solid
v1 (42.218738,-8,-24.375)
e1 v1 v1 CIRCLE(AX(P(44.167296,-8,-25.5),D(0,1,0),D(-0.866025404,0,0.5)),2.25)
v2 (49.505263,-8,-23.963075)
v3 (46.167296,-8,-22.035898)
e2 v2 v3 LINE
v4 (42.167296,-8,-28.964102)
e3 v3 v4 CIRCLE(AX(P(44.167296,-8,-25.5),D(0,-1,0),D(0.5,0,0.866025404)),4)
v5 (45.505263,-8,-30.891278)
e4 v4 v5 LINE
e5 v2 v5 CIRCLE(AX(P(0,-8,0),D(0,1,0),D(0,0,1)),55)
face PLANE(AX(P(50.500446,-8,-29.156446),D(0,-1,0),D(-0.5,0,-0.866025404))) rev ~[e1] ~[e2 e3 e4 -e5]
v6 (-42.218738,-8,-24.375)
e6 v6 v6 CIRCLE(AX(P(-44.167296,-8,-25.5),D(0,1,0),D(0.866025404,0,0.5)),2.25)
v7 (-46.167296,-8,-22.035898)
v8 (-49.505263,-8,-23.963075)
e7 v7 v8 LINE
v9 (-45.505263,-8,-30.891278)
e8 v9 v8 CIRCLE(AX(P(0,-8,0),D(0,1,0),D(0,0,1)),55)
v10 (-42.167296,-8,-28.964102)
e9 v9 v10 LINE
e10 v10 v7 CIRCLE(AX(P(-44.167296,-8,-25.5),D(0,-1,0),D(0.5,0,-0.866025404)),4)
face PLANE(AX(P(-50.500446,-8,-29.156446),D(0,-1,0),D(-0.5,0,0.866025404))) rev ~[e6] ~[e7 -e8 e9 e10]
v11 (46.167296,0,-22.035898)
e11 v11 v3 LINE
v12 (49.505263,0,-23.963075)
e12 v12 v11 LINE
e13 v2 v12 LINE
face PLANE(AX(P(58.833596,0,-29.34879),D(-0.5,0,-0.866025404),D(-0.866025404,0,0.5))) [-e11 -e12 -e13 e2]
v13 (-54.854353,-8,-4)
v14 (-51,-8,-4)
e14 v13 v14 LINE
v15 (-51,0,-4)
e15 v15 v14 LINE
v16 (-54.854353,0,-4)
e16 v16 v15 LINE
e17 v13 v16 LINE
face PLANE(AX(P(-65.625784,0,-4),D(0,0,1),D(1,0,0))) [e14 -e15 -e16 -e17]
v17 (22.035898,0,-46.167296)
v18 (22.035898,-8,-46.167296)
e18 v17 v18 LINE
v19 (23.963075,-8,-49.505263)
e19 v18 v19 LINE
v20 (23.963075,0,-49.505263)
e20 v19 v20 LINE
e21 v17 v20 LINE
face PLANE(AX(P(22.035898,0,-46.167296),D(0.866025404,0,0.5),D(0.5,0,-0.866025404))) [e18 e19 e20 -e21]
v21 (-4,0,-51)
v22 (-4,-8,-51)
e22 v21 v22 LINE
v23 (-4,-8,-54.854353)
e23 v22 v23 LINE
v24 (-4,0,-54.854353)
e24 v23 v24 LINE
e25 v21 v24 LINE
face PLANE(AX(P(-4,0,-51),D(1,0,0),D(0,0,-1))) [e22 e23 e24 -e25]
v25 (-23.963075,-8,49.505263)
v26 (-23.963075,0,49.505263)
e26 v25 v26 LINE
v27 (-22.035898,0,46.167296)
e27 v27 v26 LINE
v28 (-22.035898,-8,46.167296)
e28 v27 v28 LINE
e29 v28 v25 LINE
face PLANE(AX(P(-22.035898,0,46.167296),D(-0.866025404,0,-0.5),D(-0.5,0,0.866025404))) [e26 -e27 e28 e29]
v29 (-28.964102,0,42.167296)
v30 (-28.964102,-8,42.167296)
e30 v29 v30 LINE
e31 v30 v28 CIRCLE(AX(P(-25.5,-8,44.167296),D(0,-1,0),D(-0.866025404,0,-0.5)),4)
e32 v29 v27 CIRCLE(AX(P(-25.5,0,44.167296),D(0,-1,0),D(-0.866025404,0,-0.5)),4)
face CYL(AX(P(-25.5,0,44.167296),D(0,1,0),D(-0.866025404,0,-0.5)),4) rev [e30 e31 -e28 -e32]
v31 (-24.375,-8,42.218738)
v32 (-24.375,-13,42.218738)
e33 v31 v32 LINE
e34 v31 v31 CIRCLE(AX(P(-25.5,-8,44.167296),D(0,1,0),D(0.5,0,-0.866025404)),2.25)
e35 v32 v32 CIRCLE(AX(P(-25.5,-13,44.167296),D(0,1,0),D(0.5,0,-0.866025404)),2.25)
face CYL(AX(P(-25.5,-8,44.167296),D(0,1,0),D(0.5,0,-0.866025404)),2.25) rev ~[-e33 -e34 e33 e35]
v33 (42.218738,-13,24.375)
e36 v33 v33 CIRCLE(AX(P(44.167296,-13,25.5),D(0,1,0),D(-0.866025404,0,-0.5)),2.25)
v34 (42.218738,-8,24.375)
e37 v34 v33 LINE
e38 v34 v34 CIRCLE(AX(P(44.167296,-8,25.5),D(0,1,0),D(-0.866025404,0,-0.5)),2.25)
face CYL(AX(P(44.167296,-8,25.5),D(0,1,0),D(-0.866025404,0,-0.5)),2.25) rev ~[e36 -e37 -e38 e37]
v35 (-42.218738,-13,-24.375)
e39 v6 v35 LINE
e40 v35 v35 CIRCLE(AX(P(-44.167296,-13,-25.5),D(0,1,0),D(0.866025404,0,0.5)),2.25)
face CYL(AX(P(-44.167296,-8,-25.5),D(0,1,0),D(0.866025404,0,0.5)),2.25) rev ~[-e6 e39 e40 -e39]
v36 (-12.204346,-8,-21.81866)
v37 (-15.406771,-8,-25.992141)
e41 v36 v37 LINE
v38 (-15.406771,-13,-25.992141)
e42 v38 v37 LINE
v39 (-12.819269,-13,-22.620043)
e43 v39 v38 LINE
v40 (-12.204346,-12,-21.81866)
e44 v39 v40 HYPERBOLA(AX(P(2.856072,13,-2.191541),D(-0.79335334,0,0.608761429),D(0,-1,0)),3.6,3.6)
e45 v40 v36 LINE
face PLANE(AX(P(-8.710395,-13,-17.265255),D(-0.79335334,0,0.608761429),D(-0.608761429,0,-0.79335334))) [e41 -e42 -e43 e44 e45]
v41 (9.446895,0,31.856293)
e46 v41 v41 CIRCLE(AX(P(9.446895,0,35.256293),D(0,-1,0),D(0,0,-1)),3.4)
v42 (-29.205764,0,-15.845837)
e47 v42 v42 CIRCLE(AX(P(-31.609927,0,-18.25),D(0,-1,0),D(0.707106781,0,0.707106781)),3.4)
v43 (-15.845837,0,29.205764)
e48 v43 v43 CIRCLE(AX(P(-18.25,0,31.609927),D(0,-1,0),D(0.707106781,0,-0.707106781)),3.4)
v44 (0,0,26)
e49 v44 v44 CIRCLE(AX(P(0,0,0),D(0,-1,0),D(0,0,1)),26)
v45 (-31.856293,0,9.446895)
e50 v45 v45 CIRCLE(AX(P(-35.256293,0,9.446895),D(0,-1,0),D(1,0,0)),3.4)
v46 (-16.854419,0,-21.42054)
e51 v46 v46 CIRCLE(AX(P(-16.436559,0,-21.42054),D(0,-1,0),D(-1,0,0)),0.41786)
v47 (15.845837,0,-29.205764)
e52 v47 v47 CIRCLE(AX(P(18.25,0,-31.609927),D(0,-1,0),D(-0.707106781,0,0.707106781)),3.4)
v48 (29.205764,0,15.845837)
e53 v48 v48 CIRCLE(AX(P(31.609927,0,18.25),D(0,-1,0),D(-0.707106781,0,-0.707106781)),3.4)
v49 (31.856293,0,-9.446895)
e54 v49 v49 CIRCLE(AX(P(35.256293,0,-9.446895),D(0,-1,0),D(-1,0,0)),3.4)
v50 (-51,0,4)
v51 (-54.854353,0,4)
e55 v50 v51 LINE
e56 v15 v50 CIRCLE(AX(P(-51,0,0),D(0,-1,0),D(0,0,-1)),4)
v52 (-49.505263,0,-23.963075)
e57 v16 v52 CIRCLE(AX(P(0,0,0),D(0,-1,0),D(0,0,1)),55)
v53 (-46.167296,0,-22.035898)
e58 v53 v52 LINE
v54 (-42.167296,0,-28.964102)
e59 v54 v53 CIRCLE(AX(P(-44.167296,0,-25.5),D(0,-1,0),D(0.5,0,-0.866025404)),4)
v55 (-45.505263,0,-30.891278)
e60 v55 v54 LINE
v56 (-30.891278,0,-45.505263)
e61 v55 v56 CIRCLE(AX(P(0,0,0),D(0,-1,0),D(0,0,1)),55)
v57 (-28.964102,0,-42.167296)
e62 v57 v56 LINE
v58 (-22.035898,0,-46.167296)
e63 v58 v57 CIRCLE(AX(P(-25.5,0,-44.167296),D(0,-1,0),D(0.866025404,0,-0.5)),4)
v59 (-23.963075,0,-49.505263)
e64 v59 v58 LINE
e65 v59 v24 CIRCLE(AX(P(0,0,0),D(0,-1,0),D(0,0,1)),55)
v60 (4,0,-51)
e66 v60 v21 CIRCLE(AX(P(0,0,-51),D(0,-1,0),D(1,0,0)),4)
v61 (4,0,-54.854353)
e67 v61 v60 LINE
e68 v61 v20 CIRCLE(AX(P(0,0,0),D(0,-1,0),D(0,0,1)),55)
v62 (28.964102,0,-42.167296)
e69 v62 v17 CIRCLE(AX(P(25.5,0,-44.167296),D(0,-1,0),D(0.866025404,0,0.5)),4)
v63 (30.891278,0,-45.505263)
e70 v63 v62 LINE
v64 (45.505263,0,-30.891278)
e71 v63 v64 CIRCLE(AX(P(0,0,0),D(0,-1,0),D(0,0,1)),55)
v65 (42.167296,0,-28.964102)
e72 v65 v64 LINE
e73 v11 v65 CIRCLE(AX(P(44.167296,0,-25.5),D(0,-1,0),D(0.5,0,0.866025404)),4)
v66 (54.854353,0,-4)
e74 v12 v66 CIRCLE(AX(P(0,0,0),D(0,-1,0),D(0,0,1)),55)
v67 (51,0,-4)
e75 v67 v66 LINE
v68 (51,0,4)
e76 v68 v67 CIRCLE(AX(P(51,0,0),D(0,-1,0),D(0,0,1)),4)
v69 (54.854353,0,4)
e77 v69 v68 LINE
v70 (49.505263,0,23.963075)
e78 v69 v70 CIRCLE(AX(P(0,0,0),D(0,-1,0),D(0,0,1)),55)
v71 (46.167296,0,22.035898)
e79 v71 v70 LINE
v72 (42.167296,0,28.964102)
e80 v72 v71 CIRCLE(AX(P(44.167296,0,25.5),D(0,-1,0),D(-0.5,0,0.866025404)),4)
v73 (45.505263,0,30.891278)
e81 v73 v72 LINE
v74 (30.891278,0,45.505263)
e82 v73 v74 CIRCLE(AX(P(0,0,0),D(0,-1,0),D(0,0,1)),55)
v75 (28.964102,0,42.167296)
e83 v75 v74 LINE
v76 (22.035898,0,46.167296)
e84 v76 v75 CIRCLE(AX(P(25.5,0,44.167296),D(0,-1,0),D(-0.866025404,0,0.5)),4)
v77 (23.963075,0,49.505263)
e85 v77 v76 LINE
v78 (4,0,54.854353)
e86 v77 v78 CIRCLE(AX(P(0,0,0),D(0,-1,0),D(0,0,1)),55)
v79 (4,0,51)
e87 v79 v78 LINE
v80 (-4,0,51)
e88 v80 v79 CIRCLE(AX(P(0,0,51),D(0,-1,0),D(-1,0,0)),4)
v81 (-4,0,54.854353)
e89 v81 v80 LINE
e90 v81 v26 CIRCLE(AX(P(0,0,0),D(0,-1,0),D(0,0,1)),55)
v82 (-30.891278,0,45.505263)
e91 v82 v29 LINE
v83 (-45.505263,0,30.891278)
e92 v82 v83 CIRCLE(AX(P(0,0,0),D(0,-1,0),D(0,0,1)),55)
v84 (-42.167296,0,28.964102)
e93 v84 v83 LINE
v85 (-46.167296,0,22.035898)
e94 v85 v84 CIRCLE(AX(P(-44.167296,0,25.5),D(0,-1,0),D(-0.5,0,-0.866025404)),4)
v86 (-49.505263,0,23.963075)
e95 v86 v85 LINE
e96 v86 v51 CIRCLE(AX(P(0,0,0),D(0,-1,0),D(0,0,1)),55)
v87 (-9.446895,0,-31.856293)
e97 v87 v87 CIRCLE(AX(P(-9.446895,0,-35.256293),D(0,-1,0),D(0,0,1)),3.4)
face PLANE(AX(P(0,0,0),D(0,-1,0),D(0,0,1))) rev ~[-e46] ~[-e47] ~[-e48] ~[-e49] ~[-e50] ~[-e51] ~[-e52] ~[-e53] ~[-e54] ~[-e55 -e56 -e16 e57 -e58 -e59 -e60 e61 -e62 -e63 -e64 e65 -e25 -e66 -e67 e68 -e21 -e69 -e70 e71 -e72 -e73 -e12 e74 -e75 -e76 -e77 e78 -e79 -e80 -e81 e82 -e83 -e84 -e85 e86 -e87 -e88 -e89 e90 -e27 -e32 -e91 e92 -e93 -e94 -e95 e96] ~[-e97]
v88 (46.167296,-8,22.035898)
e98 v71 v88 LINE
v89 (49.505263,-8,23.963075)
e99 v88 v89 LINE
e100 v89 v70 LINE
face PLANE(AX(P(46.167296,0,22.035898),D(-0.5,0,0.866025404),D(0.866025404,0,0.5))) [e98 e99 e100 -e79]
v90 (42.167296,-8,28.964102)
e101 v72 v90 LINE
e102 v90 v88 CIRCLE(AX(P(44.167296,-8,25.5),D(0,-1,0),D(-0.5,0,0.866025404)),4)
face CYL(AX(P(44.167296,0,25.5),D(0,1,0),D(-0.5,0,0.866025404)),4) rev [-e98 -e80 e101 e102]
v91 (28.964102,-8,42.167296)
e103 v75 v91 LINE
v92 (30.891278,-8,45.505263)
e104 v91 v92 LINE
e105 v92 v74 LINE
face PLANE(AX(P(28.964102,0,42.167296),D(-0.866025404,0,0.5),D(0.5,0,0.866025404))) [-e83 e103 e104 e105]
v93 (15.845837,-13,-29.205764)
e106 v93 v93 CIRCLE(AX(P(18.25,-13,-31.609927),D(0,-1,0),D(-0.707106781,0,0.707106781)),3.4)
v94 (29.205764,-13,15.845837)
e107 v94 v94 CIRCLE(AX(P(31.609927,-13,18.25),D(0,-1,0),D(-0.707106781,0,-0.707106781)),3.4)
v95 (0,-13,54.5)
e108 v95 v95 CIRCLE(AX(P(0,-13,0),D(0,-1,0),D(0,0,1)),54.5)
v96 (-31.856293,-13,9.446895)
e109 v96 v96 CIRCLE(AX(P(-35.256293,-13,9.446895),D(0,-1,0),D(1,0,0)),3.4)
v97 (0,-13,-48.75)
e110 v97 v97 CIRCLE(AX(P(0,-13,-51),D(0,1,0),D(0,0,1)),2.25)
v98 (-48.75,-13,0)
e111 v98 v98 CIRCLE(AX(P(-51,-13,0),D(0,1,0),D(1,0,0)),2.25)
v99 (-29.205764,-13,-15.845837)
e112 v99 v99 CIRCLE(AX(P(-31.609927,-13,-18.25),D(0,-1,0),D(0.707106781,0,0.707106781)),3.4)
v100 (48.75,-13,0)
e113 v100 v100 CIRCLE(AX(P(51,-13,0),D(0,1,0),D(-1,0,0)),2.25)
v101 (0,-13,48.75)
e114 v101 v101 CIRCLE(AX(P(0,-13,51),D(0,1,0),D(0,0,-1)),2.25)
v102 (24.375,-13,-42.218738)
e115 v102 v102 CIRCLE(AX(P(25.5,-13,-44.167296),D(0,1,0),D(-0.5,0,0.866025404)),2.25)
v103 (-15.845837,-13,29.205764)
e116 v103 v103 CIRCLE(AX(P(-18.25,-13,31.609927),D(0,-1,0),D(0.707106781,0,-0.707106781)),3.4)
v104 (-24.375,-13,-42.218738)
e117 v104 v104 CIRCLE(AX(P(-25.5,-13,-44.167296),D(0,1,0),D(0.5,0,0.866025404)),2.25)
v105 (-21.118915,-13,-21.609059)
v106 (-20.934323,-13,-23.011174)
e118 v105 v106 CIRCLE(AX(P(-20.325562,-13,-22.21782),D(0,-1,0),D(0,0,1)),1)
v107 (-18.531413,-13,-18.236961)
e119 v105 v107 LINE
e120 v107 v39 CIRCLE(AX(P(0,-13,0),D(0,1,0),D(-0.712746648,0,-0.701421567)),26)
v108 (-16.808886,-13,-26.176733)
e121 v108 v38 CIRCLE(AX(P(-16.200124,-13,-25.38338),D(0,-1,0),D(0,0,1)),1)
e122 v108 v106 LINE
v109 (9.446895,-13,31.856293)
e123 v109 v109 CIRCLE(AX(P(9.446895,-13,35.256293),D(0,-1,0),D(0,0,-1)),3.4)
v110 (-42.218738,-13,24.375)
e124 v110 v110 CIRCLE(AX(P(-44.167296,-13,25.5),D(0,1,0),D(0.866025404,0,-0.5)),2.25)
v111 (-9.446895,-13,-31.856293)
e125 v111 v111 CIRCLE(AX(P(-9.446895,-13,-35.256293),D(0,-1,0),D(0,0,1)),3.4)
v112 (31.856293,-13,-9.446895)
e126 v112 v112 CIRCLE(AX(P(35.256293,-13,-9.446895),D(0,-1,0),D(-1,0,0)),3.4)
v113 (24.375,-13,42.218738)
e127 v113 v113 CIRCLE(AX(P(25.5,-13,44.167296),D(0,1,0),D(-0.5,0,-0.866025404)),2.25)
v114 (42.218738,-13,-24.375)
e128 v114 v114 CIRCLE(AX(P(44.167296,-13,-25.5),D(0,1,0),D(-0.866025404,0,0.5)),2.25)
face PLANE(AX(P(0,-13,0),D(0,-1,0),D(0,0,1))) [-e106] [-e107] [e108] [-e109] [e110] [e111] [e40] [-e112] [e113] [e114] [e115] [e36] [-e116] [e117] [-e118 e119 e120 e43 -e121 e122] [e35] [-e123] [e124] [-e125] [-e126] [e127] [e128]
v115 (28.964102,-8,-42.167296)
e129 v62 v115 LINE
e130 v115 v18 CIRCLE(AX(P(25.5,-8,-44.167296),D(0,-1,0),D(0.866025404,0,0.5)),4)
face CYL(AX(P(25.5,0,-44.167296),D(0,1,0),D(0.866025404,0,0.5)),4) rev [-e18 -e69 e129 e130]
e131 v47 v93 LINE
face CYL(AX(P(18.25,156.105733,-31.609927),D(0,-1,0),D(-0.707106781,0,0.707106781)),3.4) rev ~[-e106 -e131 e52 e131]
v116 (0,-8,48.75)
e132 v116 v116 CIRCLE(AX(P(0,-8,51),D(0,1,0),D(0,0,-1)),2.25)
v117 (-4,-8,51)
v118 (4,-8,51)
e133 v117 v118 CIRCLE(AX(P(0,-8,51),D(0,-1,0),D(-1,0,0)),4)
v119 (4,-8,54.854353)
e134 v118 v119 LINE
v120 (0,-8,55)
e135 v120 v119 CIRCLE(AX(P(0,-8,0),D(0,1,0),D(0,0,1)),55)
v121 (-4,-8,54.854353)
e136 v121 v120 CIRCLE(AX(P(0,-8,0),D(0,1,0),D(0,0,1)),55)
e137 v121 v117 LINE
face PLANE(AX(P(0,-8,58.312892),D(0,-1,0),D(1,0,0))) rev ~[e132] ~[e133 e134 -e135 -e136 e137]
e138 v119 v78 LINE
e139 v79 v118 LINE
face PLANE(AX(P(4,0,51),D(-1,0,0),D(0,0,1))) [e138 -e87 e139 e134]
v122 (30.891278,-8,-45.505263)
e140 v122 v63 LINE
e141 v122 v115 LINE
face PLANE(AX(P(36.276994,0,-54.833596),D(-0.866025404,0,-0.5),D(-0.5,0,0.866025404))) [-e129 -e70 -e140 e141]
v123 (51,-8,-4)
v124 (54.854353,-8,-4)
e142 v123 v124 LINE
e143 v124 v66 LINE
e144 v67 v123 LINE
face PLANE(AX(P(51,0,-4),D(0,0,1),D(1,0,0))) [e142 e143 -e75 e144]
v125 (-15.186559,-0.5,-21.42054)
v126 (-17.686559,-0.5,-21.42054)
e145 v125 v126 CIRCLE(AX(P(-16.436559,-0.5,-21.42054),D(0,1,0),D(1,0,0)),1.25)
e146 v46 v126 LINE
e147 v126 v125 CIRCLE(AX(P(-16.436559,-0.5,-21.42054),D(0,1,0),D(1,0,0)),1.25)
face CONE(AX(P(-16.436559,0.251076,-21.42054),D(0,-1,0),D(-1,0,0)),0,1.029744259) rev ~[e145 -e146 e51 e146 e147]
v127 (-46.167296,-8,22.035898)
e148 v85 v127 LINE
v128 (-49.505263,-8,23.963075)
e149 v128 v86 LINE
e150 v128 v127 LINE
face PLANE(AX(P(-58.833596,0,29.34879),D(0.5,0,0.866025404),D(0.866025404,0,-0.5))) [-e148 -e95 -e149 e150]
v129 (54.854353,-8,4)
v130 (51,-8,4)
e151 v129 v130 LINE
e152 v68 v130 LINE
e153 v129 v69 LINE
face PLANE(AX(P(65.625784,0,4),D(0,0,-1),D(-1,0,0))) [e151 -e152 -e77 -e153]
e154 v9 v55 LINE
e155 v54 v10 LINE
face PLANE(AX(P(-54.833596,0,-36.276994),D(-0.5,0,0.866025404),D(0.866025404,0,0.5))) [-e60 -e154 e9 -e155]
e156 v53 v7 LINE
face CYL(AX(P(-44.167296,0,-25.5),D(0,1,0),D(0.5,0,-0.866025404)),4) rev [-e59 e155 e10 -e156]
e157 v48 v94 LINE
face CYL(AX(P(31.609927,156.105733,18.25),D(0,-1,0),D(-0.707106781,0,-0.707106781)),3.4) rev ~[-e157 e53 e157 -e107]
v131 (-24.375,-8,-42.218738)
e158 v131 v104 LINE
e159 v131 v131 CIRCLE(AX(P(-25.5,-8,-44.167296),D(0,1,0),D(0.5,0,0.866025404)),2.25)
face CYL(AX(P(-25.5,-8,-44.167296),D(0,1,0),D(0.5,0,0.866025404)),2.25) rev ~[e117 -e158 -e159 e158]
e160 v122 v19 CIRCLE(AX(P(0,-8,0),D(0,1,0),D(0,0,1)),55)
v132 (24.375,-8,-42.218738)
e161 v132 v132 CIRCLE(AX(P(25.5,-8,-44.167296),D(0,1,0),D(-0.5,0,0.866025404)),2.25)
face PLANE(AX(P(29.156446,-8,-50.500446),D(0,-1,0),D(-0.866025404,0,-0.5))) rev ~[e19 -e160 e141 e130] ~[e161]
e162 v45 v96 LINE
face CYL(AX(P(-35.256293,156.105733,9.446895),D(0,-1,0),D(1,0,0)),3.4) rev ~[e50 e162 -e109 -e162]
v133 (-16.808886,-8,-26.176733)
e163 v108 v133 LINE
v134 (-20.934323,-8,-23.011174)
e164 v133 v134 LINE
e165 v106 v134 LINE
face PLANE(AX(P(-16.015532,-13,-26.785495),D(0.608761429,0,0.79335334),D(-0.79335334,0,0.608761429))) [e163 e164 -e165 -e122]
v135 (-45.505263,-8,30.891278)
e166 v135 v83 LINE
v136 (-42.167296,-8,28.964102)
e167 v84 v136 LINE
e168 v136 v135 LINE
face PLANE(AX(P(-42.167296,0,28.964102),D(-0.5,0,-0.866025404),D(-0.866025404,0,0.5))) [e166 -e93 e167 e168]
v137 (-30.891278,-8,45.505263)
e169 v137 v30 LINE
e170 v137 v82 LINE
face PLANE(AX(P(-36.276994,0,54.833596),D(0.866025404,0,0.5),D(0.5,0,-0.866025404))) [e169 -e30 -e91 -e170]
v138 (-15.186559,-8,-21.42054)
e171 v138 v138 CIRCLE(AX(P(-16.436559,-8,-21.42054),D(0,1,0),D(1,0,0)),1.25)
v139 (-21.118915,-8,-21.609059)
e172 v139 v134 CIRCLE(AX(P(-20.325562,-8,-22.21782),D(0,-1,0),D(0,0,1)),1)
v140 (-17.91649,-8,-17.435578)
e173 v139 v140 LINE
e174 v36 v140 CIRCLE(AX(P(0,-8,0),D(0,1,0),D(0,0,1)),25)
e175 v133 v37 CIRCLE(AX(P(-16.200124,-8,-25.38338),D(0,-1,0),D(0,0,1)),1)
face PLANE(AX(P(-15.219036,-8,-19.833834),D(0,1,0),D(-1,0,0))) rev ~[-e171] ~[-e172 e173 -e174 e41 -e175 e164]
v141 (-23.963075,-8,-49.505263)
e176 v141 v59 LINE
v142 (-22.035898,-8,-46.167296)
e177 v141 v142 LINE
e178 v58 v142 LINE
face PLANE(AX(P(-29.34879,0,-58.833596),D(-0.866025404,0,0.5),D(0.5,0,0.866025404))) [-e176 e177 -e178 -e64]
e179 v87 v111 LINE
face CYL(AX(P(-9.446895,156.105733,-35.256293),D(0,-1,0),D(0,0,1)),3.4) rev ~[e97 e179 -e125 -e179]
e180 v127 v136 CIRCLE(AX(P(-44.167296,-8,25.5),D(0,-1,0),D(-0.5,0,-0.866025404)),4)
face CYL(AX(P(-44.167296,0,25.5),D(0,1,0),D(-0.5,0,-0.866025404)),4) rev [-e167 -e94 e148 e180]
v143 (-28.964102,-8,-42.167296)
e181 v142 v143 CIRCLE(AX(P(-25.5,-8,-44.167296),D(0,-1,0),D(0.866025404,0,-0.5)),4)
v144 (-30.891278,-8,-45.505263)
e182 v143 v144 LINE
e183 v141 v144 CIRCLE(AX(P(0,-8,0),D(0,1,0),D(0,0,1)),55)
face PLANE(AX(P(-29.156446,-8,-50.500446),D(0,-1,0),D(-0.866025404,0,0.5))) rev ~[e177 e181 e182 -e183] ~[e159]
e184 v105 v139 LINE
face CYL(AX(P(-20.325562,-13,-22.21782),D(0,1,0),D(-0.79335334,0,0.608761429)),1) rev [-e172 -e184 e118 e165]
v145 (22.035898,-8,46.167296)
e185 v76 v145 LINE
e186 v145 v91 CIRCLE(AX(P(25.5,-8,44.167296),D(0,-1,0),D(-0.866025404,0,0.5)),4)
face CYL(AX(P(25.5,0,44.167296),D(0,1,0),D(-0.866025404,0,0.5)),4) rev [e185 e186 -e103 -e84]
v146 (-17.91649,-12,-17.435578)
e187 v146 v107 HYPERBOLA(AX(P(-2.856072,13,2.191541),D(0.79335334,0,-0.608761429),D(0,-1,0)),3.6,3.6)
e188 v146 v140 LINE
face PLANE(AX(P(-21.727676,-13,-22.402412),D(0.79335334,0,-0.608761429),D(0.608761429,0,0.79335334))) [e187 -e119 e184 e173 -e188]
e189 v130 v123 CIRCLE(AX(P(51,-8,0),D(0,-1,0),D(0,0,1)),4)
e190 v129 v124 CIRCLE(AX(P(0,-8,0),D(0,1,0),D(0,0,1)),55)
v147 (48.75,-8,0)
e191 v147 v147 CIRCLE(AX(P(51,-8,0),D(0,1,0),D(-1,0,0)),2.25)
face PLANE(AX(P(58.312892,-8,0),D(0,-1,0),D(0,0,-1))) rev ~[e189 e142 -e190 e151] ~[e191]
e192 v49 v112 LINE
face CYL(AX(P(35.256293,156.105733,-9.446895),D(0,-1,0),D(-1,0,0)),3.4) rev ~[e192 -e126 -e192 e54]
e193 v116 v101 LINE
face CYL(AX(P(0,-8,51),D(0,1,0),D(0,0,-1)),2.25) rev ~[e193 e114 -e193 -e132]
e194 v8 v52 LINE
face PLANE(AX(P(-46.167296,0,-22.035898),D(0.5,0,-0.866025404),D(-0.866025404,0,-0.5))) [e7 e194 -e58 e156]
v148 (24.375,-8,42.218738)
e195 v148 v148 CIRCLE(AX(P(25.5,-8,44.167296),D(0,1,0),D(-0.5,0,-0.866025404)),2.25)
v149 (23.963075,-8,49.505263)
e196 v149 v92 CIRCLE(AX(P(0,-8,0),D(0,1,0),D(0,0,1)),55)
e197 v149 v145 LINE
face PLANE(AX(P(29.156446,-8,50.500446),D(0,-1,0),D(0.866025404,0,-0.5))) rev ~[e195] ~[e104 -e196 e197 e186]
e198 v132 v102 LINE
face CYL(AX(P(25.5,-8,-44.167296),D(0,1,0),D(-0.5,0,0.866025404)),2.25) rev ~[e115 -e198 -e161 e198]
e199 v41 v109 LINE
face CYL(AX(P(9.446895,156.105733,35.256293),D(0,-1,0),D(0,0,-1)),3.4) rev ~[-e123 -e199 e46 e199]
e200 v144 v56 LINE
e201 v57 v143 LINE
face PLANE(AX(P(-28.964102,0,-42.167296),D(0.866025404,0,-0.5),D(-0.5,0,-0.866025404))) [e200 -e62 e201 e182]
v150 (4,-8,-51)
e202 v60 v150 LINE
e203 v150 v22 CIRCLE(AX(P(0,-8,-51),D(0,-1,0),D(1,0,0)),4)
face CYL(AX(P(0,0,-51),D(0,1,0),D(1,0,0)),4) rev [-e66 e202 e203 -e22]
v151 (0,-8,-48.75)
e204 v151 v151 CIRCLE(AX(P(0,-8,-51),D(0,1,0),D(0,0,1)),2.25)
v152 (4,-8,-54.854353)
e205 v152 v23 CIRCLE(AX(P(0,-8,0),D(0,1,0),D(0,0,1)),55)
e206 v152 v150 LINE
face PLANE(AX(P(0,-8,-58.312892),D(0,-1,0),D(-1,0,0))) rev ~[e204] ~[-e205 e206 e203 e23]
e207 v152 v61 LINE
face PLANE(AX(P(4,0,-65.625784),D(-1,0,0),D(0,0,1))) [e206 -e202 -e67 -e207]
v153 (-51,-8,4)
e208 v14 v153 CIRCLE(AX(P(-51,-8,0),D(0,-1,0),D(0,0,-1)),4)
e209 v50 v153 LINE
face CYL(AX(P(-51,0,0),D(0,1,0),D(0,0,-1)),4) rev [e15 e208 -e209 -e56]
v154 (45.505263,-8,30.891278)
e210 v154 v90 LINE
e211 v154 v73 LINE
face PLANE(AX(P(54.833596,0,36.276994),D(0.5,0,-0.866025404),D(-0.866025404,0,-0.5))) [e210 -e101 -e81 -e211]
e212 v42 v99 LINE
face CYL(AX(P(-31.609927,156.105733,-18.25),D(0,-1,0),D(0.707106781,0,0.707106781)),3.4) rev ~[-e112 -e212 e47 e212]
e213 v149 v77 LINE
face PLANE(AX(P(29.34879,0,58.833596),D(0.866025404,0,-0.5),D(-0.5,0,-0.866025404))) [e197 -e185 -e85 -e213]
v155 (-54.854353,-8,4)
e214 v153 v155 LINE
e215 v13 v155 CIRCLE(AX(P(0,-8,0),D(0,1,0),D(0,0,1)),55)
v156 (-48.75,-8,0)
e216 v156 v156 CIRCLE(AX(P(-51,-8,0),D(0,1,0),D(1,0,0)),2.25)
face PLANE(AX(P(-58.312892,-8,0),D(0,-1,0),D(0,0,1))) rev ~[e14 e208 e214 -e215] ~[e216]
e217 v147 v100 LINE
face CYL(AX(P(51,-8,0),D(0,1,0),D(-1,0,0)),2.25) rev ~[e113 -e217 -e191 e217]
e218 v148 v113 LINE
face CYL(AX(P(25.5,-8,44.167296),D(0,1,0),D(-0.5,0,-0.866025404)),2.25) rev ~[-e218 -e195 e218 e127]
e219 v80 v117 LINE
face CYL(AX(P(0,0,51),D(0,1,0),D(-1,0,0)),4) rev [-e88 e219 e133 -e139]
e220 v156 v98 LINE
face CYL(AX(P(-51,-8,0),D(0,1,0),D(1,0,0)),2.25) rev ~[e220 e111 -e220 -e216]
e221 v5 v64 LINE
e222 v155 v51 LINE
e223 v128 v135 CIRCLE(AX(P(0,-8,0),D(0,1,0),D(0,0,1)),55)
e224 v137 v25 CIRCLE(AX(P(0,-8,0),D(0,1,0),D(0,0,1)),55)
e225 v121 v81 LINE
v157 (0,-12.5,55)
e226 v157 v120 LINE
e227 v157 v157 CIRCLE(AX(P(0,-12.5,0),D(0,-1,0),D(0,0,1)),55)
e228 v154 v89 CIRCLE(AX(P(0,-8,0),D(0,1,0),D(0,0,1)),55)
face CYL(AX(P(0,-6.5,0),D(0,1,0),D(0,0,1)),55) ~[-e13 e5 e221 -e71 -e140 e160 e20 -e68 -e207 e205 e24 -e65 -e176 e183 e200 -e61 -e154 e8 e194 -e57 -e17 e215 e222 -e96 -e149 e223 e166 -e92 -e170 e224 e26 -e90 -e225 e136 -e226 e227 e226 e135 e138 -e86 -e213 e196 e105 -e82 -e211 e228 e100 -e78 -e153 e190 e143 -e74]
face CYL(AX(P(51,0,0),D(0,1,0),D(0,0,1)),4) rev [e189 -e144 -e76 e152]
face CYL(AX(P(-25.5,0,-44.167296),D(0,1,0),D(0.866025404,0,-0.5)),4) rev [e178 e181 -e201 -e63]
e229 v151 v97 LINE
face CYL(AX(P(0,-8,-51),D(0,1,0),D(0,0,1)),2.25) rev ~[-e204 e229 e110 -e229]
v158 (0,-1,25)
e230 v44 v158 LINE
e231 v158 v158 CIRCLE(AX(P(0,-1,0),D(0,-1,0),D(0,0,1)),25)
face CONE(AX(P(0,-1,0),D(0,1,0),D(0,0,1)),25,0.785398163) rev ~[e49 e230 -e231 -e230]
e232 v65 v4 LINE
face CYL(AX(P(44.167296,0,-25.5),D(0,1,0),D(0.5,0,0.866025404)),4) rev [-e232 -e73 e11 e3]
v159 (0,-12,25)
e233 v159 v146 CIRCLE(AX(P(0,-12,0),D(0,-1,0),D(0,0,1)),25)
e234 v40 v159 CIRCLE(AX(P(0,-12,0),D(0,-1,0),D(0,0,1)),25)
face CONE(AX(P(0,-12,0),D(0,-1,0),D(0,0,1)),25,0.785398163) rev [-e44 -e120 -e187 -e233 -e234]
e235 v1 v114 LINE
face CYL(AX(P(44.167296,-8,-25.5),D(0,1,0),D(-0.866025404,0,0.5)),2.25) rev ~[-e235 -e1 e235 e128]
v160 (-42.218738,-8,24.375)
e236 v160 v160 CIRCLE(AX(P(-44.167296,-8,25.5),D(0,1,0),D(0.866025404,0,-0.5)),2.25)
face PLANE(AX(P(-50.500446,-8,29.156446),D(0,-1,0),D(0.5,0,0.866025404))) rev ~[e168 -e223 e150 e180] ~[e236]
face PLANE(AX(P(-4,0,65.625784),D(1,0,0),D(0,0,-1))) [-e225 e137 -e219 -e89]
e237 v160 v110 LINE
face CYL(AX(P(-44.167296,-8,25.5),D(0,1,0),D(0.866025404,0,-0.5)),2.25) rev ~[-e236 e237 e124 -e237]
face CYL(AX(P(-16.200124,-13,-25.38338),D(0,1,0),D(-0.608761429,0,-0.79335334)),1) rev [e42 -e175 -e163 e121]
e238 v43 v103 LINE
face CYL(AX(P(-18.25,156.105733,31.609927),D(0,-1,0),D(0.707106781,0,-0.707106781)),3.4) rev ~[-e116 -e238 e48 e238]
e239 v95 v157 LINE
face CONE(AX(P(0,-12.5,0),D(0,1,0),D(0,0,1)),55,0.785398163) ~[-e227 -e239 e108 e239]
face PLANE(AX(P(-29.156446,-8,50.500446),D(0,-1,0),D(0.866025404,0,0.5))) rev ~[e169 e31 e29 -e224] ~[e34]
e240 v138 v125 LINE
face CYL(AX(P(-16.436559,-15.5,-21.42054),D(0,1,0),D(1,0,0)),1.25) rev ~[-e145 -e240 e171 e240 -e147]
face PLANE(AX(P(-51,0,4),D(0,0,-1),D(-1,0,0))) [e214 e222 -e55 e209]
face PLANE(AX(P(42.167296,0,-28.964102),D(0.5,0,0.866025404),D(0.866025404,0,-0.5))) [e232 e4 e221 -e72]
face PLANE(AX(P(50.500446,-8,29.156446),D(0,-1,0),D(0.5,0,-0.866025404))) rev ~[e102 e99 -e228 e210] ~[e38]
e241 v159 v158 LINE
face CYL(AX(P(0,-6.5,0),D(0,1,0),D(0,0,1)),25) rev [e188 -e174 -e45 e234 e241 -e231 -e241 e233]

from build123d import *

# Parameters (mm, degrees)
SKETCH_1_W               = 30
SKETCH_1_H               = 13
CUT_EXTRUDE_1_DEPTH      = 8
SKETCH_3_R               = 2.25
CUT_EXTRUDE_2_DEPTH      = 79.192071209
PATTERN_CIRCULAR_1_COUNT = 12
CHAMFER_1_SIZE           = 1
CHAMFER_2_SIZE           = 0.5
HOLE_WIZARD_M8_2_D       = 6.8
PATTERN_CIRCULAR_2_COUNT = 8
CUT_EXTRUDE_3_DEPTH      = 5
FILLET_1_R               = 1
HOLE_WIZARD_M3_1_D       = 2.5
HOLE_WIZARD_M3_1_DEPTH   = 7.5
HOLE_WIZARD_M3_1_TIP     = 0.751075774


with BuildPart() as part:
    # 草图1 → 旋转1 (revolve)
    with BuildSketch(Plane.XY, mode=Mode.PRIVATE) as revolve_1_sk:
        with Locations((-40, -6.5)):
            Rectangle(SKETCH_1_W, SKETCH_1_H)
    revolve(revolve_1_sk.sketch.rotate(Axis((0, 0, 0), (0, -1, 0)), 270), axis=Axis((0, 0, 0), (0, -1, 0)))

    # 草图2 → 切除-拉伸1 (cut)
    with BuildSketch(Plane(origin=(0, 0, 0), x_dir=(1, 0, 0), z_dir=(0, 1, 0))):
        with BuildLine():
            Line((4, 65.625784045), (4, 51))
            ThreePointArc((4, 51), (0, 47), (-4, 51))
            Line((-4, 51), (-4, 65.625784045))
            ThreePointArc((-4, 65.625784045), (0, 69.625784045), (4, 65.625784045))
        make_face()
    cut_extrude_1 = extrude(amount=-CUT_EXTRUDE_1_DEPTH, mode=Mode.SUBTRACT)

    # 草图3 → 切除-拉伸2 (cut, through all)
    with BuildSketch(Plane(origin=(0, -8, 0), x_dir=(1, 0, 0), z_dir=(0, 1, 0))):
        with Locations(Location((0, 51, 0), (0, 0, 270))):
            Circle(SKETCH_3_R)
    cut_extrude_2 = extrude(amount=-CUT_EXTRUDE_2_DEPTH, mode=Mode.SUBTRACT)

    # 阵列(圆周)1: 切除-拉伸1, 切除-拉伸2 ×12 about axis
    pattern_circular_1_axis = Axis((0, 0, 0), (0, 1, 0))
    add([cut_extrude_1.rotate(pattern_circular_1_axis, i * 360 / PATTERN_CIRCULAR_1_COUNT) for i in range(1, PATTERN_CIRCULAR_1_COUNT)], mode=Mode.SUBTRACT)
    add([cut_extrude_2.rotate(pattern_circular_1_axis, i * 360 / PATTERN_CIRCULAR_1_COUNT) for i in range(1, PATTERN_CIRCULAR_1_COUNT)], mode=Mode.SUBTRACT)

    # 倒角1
    chamfer_1_edges = [part.edges().sort_by_distance(p)[0] for p in [
        (0, 0, -25),
        (0, -13, -25),
    ]]
    chamfer(chamfer_1_edges, length=CHAMFER_1_SIZE)

    # 倒角2
    chamfer_2_edges = [part.edges().sort_by_distance(p)[0] for p in [
        (0, -13, -55),
    ]]
    chamfer(chamfer_2_edges, length=CHAMFER_2_SIZE)

    # M8 螺纹孔2 (through all)
    with Locations(Plane(origin=(0, 0, 0), x_dir=(1, 0, 0), z_dir=(0, 1, 0))):
        with Locations((35.25629266, 9.446895146)):
            hole_wizard_m8_2 = Hole(HOLE_WIZARD_M8_2_D / 2)

    # 阵列(圆周)2: M8 螺纹孔2 ×8 about axis
    pattern_circular_2_axis = Axis((0, 0, 0), (0, 1, 0))
    for i in range(1, PATTERN_CIRCULAR_2_COUNT):
        add(hole_wizard_m8_2.rotate(pattern_circular_2_axis, i * 360 / PATTERN_CIRCULAR_2_COUNT), mode=Mode.SUBTRACT)

    # 草图8 → 切除-拉伸3 (cut)
    with BuildSketch(Plane.XZ.offset(13)):
        Polygon((-21.727676324, -22.402412405), (-14.422539176, -12.882172321), (-8.710395126, -17.26525461), (-16.015532274, -26.785494693), align=None)
    extrude(amount=-CUT_EXTRUDE_3_DEPTH, mode=Mode.SUBTRACT)

    # 圆角1
    fillet_1_edges = [part.edges().sort_by_distance(p)[0] for p in [
        (-16.015532274, -10.5, -26.785494693),
        (-21.727676324, -10.5, -22.402412405),
    ]]
    fillet(fillet_1_edges, radius=FILLET_1_R)

    # M3 螺纹孔1
    with Locations(Plane(origin=(0, -8, 0), x_dir=(-1, 0, 0), z_dir=(0, -1, 0))):
        with Locations((16.436558583, 21.420540188)):
            Hole(HOLE_WIZARD_M3_1_D / 2, depth=HOLE_WIZARD_M3_1_DEPTH)
            with Locations((0, 0, -(HOLE_WIZARD_M3_1_DEPTH + HOLE_WIZARD_M3_1_TIP / 2))):  # 118° drill point
                Cone(0, HOLE_WIZARD_M3_1_D / 2, HOLE_WIZARD_M3_1_TIP, mode=Mode.SUBTRACT)


solid = part.part
